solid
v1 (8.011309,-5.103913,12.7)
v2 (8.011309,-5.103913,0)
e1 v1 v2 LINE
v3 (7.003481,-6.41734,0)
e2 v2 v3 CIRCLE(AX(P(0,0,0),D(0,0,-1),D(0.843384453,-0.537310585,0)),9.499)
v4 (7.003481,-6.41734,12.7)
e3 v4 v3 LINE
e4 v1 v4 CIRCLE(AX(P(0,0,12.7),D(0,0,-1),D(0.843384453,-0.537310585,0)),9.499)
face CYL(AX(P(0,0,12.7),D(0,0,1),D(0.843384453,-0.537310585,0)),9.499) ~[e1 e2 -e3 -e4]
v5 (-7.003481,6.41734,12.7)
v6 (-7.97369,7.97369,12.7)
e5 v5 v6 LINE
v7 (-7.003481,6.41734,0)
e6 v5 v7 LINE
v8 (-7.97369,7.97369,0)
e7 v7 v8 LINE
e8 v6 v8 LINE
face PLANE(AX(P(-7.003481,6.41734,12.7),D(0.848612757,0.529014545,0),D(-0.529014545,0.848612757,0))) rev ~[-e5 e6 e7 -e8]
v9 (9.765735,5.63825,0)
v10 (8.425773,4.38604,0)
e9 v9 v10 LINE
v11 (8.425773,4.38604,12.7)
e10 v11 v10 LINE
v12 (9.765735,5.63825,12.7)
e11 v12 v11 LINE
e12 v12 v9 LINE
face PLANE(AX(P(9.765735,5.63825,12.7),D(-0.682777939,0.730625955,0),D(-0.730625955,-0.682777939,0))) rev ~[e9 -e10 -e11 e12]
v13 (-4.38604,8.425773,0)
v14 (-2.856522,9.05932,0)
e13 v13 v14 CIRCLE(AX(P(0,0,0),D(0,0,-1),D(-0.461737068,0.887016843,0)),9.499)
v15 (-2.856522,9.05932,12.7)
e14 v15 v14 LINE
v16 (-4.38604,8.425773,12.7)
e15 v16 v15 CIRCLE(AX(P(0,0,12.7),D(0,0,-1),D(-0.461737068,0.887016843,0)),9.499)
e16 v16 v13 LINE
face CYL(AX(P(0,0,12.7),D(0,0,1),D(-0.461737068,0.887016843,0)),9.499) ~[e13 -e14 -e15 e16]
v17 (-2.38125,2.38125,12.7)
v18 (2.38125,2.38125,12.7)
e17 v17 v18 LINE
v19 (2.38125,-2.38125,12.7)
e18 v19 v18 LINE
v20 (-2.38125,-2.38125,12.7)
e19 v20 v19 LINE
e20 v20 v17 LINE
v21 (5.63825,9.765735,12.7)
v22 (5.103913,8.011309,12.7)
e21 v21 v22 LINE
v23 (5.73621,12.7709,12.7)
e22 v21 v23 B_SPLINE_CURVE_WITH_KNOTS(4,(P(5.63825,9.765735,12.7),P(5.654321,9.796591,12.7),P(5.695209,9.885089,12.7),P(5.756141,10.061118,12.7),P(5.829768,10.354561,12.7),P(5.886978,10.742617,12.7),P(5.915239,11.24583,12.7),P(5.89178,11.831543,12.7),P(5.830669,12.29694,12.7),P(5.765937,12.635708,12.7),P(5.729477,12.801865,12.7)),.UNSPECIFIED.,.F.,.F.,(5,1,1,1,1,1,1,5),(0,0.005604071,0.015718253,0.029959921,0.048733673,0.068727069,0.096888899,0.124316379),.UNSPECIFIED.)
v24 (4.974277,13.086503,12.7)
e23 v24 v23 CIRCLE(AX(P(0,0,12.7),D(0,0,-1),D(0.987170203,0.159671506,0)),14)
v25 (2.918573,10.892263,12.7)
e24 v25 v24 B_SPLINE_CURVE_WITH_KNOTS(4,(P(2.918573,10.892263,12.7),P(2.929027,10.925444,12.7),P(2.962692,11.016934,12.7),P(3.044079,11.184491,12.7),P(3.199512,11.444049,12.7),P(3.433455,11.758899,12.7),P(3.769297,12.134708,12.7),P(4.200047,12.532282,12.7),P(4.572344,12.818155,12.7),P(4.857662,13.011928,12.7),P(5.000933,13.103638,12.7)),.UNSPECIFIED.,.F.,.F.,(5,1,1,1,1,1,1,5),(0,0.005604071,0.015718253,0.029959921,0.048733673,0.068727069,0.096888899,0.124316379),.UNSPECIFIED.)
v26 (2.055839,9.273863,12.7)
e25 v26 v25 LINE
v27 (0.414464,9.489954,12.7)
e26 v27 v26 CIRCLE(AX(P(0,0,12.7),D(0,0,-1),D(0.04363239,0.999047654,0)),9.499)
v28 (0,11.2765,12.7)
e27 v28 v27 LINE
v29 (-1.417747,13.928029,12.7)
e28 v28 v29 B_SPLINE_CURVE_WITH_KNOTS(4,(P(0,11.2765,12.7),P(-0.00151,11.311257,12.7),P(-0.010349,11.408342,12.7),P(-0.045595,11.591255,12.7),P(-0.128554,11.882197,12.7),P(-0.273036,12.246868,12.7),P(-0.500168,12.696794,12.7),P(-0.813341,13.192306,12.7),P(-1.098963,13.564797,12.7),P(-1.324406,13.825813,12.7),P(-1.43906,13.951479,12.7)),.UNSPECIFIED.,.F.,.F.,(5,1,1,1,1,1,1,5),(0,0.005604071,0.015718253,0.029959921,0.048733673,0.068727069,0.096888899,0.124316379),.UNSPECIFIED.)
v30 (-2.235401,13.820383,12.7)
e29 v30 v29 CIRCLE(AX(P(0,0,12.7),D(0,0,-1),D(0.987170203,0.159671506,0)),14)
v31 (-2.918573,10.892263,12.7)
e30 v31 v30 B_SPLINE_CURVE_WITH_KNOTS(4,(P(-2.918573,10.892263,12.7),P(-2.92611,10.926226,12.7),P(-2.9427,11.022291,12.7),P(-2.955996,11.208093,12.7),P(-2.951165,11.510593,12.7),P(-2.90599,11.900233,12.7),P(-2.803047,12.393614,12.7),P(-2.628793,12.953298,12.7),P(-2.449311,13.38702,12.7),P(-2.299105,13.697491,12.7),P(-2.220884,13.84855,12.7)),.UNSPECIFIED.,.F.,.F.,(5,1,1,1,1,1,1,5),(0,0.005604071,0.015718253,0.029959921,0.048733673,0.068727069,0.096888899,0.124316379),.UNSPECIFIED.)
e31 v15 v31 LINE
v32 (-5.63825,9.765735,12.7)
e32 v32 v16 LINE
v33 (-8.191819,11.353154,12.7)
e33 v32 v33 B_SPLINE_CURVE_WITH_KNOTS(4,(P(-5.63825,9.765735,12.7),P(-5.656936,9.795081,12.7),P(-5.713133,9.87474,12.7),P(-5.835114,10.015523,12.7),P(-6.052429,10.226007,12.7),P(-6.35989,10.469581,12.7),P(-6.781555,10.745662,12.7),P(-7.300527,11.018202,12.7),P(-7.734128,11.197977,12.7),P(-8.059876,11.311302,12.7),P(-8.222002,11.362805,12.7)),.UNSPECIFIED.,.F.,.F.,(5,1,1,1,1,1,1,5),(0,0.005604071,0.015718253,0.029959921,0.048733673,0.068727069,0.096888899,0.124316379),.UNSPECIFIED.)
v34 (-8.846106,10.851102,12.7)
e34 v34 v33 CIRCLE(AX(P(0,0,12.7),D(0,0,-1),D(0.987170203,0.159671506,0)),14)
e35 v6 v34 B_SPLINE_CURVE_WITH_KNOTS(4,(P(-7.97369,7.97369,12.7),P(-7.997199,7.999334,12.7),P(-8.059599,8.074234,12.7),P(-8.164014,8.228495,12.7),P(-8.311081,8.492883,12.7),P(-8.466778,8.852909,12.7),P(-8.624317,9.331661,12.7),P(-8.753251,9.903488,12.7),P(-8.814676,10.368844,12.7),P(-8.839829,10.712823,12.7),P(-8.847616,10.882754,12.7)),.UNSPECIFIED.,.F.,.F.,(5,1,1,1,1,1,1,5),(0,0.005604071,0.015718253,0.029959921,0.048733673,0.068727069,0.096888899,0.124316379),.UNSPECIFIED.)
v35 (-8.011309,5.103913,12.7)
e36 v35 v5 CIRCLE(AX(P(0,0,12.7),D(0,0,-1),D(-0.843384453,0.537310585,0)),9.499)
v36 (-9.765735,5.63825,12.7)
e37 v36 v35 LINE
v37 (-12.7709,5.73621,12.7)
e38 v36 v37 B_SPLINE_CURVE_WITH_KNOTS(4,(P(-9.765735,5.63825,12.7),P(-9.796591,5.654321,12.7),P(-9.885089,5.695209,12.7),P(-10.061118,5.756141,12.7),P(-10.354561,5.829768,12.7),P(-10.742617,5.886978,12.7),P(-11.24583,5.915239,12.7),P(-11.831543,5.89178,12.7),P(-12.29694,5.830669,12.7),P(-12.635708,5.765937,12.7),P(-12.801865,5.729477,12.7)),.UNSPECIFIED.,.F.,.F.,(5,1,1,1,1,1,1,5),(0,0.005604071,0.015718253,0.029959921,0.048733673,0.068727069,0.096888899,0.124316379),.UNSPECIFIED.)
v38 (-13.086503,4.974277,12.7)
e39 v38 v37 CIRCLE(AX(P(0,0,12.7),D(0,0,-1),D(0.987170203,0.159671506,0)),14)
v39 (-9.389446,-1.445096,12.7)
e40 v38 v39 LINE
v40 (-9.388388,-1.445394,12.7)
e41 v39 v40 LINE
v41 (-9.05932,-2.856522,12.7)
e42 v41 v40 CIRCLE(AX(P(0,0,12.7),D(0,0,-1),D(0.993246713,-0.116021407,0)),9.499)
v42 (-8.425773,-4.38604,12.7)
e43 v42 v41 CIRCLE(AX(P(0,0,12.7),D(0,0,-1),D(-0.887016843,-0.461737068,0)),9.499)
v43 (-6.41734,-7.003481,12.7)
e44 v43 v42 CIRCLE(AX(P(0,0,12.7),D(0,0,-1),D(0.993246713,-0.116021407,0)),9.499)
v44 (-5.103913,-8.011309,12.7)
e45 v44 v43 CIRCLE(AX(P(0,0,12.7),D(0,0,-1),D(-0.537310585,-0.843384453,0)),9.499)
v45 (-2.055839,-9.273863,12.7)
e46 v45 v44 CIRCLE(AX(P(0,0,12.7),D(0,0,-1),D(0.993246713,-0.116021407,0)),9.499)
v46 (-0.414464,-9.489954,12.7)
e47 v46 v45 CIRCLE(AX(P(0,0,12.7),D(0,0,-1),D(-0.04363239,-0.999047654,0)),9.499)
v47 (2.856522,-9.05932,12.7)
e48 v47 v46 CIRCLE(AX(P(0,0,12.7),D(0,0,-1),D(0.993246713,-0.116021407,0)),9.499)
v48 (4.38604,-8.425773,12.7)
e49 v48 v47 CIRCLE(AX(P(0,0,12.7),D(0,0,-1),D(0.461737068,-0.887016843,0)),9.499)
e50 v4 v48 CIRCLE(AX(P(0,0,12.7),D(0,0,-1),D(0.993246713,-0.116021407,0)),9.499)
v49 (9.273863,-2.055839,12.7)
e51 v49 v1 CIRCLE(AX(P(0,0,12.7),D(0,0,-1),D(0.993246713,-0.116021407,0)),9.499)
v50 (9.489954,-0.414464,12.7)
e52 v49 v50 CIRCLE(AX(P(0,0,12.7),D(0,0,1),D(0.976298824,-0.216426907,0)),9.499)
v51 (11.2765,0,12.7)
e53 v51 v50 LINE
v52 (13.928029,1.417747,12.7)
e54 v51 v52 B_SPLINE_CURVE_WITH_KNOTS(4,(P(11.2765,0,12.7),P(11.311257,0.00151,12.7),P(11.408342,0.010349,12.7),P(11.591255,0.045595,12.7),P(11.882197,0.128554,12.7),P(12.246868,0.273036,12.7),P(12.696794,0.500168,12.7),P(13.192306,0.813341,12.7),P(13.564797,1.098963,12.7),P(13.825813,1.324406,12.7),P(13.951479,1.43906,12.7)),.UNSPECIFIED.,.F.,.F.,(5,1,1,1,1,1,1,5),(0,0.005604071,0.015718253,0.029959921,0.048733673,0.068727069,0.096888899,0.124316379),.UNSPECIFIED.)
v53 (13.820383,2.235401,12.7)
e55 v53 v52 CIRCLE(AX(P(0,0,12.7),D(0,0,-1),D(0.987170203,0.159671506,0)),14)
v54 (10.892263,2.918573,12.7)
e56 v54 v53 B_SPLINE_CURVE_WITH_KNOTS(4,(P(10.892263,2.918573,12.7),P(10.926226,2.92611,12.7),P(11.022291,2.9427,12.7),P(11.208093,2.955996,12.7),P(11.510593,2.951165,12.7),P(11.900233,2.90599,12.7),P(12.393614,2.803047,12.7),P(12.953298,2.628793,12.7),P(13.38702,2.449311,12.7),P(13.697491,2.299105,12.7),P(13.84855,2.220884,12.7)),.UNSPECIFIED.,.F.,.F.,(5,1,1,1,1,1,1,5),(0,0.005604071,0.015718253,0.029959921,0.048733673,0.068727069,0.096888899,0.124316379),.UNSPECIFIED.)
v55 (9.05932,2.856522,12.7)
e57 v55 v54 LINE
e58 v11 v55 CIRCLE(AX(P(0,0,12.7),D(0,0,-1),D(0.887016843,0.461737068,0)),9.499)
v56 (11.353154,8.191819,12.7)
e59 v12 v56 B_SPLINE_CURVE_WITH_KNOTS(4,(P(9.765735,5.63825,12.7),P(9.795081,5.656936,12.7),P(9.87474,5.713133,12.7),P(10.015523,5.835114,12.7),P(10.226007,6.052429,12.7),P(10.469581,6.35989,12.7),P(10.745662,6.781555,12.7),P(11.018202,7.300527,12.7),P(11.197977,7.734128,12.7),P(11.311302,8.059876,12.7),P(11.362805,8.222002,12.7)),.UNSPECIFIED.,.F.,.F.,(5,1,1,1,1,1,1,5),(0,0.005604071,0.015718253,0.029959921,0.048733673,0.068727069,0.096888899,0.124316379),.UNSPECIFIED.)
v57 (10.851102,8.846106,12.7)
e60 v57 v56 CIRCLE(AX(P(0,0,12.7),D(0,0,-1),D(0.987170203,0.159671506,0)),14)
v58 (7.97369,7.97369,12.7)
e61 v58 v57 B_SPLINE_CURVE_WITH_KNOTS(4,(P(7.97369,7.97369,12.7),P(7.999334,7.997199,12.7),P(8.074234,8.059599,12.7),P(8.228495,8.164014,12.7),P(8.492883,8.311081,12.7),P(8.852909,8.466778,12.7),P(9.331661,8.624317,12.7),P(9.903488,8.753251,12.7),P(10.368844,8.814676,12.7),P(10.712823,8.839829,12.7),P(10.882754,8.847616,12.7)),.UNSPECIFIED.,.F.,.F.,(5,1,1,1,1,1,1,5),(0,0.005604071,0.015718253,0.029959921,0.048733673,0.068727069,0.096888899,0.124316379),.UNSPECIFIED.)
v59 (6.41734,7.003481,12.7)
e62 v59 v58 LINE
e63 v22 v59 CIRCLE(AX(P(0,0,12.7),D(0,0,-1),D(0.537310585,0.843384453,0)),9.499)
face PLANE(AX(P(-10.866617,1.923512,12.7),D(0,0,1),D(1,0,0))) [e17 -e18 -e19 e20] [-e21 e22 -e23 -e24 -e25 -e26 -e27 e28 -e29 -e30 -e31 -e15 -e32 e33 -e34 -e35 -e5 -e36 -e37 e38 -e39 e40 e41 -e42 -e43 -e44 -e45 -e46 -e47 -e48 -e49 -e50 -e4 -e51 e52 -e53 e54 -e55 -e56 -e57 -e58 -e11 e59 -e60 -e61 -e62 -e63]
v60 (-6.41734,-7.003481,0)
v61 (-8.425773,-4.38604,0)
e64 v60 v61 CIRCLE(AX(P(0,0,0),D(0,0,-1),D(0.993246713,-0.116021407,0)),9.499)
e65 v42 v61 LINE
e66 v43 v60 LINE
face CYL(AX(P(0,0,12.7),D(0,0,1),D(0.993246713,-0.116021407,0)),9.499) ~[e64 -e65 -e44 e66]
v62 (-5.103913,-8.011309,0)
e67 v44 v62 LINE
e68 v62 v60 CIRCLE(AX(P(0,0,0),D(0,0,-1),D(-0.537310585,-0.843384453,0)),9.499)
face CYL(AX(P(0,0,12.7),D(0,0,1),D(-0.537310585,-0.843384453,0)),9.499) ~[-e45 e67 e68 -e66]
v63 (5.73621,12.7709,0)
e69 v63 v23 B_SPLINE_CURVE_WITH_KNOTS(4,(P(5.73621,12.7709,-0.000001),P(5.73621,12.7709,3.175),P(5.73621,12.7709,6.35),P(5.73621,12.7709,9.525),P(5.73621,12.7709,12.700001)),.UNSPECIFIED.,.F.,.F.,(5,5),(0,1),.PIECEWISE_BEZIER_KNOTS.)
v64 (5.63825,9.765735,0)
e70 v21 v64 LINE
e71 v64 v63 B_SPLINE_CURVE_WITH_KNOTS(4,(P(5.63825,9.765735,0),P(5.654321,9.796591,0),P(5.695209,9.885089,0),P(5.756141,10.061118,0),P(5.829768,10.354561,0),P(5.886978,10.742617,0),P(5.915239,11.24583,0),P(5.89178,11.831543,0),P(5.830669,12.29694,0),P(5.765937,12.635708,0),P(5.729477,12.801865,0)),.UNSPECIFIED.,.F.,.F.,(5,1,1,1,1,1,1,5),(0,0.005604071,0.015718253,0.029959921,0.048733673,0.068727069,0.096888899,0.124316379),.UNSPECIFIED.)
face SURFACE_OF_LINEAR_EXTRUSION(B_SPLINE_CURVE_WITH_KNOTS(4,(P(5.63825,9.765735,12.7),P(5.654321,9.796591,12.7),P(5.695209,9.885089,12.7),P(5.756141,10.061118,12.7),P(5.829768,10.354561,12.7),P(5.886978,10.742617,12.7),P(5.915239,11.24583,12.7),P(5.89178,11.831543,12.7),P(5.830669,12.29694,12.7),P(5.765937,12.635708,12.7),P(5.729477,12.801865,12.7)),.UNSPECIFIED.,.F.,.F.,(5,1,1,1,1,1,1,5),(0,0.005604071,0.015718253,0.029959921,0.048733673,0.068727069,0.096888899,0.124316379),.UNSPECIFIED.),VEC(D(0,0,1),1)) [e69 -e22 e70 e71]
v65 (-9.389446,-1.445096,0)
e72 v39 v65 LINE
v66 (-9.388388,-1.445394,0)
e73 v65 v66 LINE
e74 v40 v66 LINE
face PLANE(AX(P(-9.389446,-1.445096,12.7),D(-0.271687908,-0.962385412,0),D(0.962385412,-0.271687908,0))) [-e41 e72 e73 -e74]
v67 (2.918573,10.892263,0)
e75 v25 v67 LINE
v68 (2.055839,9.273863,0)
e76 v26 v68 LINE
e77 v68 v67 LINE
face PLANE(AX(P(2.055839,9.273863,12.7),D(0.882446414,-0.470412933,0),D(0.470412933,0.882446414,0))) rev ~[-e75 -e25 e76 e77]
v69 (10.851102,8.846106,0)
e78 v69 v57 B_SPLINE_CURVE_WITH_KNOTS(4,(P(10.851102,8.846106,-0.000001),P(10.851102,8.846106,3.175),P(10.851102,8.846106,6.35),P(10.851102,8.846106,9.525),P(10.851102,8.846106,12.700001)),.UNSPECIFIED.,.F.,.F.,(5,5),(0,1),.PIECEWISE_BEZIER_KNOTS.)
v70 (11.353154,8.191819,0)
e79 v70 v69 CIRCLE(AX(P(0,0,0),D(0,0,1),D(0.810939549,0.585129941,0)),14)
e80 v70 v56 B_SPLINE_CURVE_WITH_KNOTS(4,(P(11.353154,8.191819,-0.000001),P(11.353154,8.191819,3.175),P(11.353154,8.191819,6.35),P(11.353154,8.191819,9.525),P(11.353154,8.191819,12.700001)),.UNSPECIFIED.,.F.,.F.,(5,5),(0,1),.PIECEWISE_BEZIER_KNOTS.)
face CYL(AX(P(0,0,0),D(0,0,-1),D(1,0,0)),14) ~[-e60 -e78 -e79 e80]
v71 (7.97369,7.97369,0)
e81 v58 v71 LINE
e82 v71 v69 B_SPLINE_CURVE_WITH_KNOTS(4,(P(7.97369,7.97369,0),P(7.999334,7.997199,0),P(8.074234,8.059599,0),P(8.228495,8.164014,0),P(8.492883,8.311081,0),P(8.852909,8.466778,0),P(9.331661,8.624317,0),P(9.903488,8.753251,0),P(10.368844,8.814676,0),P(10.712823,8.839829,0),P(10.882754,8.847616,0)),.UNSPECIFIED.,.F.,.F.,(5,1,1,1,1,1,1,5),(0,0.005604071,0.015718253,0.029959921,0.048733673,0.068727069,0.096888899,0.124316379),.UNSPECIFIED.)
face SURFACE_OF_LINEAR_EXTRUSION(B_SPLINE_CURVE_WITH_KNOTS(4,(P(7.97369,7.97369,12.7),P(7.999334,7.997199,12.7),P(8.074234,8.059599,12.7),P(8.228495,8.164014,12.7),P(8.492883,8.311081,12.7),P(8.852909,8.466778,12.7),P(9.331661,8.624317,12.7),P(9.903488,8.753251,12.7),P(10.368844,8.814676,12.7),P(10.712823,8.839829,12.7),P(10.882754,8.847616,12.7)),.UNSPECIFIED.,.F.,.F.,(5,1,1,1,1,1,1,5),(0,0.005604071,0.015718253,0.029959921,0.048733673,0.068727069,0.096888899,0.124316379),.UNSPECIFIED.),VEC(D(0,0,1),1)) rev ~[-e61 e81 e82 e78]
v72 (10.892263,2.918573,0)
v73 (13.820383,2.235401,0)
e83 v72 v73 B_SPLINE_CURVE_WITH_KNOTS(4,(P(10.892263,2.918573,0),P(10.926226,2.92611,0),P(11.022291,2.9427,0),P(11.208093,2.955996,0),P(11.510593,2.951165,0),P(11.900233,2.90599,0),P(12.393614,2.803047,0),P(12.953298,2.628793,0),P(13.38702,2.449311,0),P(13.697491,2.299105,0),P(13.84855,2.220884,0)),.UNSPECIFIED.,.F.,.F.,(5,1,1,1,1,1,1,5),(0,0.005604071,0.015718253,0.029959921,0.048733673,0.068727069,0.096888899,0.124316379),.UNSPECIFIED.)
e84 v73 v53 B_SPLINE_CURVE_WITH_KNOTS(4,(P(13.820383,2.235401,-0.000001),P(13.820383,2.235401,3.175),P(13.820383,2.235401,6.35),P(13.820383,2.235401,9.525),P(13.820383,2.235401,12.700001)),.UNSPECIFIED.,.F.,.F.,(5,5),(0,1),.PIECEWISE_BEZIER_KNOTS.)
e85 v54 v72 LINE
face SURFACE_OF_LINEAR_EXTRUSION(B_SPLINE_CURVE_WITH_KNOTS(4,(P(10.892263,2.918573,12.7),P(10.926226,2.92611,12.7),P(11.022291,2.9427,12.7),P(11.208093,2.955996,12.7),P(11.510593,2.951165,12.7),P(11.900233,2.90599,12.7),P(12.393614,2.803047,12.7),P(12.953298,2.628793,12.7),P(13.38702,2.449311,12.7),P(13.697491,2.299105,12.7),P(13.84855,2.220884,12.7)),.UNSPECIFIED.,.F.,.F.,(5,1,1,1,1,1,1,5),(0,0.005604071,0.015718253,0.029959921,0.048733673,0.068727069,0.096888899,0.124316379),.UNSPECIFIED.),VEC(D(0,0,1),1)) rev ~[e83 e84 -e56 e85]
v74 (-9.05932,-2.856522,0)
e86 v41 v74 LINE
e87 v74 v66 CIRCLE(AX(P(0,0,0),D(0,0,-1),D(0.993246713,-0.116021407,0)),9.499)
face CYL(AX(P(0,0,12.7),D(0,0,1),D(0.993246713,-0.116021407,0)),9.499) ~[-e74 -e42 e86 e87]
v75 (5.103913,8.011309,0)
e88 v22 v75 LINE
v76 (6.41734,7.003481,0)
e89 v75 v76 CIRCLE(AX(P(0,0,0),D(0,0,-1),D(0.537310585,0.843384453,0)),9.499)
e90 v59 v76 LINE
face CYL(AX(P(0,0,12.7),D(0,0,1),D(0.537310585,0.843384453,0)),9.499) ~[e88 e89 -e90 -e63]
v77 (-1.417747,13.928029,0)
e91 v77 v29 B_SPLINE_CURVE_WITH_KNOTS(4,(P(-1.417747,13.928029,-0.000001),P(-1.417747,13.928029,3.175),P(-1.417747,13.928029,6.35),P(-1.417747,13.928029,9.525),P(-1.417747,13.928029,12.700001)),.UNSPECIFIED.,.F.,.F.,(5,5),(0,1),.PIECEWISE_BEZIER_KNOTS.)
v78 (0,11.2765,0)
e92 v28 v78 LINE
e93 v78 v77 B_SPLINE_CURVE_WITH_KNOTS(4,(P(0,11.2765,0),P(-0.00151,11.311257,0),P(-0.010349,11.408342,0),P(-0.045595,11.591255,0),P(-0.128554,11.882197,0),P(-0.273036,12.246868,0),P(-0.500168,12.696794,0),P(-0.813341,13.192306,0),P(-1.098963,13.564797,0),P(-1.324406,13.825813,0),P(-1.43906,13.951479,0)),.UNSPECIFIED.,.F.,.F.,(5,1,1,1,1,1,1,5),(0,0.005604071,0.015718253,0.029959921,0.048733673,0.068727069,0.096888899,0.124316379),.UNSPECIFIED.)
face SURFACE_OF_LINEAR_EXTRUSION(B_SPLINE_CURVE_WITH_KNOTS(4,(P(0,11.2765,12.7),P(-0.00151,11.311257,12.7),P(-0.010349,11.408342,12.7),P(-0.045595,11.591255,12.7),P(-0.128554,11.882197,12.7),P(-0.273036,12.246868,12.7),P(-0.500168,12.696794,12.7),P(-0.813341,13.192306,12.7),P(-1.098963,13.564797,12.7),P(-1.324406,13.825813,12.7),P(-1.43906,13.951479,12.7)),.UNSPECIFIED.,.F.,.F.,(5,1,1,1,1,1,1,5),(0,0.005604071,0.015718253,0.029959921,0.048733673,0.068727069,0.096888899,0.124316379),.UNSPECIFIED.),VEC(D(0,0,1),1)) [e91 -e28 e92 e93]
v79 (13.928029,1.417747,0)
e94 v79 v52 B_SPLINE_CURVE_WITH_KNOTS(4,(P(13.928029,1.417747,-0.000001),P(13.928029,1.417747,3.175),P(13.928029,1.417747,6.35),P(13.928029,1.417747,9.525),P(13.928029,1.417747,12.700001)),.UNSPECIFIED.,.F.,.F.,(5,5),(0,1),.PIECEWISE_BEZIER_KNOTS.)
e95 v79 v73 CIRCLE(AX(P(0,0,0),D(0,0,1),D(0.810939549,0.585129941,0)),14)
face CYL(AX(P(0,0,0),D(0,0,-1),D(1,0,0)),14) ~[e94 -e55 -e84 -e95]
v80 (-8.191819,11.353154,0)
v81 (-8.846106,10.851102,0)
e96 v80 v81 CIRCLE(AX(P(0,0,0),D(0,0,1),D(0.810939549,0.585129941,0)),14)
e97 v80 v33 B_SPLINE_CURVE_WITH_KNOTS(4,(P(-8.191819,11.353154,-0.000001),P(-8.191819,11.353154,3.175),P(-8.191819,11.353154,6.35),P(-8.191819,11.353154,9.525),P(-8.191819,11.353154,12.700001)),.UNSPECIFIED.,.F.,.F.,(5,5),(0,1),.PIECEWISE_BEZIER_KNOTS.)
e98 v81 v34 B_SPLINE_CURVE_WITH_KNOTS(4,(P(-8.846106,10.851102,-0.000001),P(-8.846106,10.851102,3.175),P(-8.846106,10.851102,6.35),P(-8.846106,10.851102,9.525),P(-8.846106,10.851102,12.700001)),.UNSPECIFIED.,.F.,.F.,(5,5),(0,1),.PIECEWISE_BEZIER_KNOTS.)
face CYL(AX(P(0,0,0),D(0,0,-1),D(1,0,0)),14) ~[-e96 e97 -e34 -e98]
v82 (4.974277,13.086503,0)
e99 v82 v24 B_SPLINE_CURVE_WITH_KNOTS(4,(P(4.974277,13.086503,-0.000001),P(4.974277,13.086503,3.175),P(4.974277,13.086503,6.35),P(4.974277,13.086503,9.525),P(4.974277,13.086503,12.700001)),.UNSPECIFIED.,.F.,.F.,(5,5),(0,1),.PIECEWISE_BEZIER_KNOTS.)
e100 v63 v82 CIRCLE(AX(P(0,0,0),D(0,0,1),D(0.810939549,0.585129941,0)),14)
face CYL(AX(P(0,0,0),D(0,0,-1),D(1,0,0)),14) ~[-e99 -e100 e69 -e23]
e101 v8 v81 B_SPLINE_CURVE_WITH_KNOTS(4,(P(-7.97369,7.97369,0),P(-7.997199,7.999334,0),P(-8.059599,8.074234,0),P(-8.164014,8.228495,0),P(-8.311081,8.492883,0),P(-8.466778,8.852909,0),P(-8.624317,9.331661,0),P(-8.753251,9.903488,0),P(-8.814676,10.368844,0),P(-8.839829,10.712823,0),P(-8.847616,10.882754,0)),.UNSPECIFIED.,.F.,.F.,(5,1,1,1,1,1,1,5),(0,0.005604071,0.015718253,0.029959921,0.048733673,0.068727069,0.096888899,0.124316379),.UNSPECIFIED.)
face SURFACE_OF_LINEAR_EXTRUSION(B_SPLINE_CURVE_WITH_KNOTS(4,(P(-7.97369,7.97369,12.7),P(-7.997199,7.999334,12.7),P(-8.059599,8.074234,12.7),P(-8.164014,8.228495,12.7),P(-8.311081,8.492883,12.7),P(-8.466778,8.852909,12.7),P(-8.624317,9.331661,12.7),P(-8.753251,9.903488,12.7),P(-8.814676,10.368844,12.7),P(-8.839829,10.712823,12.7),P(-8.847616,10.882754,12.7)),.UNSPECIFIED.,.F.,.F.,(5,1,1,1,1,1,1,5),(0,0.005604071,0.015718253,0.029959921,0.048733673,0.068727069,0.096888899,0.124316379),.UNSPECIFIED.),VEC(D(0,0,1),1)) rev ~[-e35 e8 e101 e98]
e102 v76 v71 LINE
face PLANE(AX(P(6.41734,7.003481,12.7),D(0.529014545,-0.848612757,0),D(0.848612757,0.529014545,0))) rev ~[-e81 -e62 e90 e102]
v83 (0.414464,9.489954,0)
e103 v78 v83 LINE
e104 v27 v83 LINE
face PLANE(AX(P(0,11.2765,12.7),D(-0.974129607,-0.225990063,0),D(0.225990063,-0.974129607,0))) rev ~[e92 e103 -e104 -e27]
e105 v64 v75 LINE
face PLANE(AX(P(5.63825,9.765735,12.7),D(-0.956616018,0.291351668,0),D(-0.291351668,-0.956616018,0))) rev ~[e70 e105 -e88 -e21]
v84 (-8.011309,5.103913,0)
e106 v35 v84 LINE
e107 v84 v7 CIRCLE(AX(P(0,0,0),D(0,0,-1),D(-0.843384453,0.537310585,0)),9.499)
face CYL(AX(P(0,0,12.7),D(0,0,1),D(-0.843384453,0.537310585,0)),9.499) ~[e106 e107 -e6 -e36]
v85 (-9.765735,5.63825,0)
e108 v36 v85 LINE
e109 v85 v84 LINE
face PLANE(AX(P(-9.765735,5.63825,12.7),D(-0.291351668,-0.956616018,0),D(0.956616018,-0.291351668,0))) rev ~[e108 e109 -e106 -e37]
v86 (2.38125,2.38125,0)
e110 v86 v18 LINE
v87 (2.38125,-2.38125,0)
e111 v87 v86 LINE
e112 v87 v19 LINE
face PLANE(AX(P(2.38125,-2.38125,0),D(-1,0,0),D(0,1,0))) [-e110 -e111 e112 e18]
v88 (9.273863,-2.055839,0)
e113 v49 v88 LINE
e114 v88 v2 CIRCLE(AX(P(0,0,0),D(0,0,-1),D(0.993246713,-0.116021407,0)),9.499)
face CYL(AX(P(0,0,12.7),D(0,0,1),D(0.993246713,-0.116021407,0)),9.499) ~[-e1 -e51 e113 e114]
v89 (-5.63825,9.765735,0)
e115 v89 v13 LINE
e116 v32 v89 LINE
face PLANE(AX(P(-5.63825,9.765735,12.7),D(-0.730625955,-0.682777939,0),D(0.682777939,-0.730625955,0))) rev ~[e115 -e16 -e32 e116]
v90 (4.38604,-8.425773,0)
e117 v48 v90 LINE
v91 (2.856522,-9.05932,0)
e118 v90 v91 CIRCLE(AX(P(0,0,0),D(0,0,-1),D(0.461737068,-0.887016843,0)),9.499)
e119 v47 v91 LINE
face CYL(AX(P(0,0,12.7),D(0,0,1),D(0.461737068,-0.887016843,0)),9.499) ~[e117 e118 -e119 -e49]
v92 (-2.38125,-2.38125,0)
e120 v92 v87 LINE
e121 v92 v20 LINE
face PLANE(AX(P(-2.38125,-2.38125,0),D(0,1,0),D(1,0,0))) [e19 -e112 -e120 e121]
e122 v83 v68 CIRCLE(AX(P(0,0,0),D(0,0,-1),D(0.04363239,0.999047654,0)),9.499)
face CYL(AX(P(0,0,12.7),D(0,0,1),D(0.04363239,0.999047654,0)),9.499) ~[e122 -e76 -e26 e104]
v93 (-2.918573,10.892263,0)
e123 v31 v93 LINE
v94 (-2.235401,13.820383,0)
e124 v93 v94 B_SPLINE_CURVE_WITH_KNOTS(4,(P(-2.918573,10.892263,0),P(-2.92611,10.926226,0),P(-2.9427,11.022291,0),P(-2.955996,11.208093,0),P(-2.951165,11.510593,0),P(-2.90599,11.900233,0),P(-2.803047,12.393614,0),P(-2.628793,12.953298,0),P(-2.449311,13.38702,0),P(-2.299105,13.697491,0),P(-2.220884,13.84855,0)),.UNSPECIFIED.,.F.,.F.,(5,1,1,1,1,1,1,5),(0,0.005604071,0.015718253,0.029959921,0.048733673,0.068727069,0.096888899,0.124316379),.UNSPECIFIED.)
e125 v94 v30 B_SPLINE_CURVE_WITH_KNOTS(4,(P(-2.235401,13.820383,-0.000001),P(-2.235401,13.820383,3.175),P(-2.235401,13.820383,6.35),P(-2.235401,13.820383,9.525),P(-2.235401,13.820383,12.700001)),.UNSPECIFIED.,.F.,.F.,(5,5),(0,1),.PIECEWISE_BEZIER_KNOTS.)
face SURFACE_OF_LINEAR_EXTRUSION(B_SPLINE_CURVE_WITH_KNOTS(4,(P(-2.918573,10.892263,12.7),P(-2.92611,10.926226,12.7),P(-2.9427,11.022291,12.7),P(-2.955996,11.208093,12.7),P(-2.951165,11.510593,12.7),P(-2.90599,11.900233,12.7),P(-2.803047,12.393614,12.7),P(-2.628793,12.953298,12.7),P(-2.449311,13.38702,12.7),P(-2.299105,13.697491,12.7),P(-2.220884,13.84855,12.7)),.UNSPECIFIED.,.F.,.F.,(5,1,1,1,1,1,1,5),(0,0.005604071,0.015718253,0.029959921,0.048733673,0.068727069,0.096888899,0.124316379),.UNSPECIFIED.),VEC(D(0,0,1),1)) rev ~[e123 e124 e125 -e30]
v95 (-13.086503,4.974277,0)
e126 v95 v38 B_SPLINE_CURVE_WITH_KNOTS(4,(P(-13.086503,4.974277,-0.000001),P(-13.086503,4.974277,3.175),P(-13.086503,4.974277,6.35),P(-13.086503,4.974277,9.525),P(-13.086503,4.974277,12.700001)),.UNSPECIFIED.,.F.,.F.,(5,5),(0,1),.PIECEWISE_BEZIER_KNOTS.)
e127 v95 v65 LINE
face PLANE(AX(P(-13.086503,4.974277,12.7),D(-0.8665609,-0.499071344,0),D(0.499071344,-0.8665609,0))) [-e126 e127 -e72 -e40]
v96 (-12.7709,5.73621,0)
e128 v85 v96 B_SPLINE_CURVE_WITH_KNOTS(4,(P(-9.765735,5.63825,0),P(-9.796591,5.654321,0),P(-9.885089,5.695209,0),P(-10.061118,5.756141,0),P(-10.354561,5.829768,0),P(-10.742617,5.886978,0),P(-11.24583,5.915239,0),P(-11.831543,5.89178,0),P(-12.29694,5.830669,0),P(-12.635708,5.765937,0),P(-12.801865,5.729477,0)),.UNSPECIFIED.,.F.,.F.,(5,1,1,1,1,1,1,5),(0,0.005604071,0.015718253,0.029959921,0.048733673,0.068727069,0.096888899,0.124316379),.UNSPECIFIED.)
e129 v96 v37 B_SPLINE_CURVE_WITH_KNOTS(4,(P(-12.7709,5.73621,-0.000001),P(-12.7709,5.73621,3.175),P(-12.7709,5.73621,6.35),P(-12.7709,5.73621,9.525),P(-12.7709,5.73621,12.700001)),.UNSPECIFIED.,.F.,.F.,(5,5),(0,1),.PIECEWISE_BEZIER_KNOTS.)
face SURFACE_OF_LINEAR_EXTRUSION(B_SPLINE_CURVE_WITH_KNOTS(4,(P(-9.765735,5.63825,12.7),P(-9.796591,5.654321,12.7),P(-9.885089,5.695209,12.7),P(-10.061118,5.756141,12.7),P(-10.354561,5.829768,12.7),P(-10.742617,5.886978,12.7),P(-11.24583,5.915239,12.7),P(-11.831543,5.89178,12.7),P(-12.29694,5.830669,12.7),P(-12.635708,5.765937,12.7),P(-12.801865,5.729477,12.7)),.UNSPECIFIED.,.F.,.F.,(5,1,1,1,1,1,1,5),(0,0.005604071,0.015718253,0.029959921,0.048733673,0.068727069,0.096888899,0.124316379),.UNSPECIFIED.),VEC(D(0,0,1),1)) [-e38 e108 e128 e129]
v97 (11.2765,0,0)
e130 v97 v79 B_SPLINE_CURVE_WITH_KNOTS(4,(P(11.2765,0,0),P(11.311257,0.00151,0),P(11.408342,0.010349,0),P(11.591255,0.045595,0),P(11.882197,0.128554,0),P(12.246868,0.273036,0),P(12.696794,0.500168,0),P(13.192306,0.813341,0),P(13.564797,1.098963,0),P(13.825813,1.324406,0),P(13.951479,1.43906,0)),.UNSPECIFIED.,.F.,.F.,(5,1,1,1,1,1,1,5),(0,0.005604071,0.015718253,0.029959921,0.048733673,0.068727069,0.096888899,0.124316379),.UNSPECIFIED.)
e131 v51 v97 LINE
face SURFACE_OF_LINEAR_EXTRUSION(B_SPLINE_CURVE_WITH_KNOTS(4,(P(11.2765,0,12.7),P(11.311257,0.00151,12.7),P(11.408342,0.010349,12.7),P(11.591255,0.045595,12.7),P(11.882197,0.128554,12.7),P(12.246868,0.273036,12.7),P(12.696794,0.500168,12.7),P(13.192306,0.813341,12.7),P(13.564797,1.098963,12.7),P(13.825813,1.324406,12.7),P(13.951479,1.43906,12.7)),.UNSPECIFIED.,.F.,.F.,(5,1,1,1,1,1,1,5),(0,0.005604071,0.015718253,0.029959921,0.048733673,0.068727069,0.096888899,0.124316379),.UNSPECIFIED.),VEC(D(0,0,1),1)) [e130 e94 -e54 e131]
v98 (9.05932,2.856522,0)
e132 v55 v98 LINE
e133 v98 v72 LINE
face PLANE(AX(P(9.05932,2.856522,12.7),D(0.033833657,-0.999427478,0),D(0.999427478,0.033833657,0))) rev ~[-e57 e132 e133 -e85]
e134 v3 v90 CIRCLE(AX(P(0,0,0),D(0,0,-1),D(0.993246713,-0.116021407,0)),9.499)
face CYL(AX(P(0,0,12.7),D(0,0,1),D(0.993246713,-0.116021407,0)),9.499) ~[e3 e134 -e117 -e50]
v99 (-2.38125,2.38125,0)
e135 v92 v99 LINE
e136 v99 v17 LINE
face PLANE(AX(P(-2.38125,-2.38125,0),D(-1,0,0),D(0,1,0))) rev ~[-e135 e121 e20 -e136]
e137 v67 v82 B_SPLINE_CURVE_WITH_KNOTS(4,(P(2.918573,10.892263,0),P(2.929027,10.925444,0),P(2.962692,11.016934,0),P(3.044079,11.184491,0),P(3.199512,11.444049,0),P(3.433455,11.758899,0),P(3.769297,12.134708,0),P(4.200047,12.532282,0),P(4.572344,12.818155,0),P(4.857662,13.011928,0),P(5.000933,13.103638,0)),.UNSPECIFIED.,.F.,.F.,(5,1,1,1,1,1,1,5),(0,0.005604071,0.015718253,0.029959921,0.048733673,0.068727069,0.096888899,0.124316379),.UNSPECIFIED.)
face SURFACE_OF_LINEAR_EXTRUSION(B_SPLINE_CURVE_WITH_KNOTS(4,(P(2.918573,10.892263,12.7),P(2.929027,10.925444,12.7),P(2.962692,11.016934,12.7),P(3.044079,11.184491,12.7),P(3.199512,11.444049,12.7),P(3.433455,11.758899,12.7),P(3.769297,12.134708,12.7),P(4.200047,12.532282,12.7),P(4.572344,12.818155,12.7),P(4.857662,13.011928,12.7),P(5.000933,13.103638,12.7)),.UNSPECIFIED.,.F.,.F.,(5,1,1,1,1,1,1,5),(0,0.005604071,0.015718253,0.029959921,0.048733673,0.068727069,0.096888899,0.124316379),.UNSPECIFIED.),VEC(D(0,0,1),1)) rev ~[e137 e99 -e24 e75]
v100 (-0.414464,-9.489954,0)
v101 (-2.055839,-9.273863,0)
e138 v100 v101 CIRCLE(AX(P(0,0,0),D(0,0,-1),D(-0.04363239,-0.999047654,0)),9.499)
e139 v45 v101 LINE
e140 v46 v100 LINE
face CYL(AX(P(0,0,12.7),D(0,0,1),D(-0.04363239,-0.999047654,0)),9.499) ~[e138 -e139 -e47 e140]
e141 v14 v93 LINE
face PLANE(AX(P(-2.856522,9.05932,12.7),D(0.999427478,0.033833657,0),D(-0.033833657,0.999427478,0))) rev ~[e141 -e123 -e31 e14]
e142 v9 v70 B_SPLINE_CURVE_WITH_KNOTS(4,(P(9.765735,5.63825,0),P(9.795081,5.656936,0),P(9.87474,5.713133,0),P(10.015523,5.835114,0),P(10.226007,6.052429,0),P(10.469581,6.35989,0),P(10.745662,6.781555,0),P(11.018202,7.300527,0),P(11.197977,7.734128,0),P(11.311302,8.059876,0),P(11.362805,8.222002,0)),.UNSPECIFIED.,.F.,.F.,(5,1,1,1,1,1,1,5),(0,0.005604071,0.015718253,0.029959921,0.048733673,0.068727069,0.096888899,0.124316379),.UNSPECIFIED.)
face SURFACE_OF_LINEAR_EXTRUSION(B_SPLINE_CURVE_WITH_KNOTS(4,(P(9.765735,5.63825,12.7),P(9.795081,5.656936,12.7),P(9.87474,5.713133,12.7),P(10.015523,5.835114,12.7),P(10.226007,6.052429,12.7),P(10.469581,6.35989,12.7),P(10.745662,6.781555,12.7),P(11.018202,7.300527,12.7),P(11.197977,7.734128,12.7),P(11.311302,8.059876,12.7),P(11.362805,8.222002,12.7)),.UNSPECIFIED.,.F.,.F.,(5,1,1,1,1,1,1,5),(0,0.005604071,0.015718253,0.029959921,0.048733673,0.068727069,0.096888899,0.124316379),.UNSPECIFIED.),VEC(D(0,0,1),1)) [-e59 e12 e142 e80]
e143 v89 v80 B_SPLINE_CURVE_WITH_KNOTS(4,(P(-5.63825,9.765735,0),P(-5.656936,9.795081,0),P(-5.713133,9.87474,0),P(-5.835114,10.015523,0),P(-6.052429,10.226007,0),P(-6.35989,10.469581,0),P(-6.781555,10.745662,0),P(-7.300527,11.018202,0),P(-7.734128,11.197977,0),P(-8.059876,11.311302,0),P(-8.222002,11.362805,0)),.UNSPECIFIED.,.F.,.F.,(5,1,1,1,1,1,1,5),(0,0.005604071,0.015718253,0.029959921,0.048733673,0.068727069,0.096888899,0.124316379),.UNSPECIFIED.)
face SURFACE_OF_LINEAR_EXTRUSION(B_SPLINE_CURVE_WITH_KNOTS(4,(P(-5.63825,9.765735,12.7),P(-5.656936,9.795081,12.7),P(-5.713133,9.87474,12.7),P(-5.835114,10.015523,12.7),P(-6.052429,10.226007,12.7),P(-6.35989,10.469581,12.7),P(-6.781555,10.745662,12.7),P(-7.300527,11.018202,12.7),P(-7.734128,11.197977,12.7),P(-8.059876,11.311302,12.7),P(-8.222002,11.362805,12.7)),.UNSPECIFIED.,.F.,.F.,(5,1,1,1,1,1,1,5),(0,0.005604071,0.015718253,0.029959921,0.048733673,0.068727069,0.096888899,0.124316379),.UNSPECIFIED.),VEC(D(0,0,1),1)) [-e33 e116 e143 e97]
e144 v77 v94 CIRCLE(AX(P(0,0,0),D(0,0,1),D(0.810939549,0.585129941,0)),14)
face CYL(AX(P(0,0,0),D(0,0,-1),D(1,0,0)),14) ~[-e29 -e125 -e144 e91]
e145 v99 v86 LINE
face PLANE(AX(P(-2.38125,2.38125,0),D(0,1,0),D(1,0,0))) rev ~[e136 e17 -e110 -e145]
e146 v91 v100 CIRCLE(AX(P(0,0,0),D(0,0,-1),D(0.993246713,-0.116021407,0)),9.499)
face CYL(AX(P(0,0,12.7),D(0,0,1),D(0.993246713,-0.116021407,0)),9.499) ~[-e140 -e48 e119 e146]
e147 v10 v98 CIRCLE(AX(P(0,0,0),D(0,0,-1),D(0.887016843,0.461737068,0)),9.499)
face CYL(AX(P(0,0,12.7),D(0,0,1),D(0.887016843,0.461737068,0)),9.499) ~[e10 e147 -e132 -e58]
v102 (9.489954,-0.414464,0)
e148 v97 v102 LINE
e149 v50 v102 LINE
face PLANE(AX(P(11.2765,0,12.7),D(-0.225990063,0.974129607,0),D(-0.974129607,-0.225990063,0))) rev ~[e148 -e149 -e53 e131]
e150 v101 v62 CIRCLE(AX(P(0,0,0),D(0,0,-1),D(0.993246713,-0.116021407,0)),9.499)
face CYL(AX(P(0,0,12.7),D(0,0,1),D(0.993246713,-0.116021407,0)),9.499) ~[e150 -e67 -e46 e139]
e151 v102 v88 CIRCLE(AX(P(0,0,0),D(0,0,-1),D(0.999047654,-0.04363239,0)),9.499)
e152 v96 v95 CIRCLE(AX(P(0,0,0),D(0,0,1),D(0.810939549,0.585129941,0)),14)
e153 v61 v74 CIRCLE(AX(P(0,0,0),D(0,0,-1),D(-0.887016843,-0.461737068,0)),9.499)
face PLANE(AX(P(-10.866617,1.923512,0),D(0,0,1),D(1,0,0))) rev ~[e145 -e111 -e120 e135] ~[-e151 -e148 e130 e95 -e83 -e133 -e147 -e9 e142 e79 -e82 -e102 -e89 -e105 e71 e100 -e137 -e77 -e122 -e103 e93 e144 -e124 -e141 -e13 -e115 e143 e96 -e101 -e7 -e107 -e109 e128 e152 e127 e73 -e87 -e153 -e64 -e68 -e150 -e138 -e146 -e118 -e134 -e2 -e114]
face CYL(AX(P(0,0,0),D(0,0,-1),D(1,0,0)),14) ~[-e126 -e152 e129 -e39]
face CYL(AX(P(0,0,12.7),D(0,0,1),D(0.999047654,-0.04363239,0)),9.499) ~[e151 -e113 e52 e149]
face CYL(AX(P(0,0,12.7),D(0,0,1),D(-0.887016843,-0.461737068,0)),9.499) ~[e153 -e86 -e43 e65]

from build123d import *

# Parameters (mm, degrees)
SKETCH1_R           = 14
SKETCH1_W           = 4.7625
SKETCH1_H           = 4.7625
BOSS_EXTRUDE1_DEPTH = 12.7
CUT_EXTRUDE2_DEPTH  = 12.7
CIRPATTERN1_COUNT   = 12
CUT_EXTRUDE3_DEPTH  = 12.7
BOSS_EXTRUDE2_DEPTH = 12.7


with BuildPart() as part:
    # Sketch1 → Boss-Extrude1 (new body)
    with BuildSketch(Plane.XY):
        Circle(SKETCH1_R)
        Rectangle(SKETCH1_W, SKETCH1_H, mode=Mode.SUBTRACT)
    extrude(amount=BOSS_EXTRUDE1_DEPTH)

    # Sketch2 → Cut-Extrude2 (cut)
    with BuildSketch(Plane.XY.offset(12.7)):
        with BuildLine():
            Line((9.765735466, 5.63825), (8.425772987, 4.386040421))
            ThreePointArc((8.425772987, 4.386040421), (8.775931679, 3.635109924), (9.05932014, 2.856522291))
            Line((9.05932014, 2.856522291), (10.89226258, 2.918572962))
            add(Edge.make_bspline(
                [(10.89226258, 2.918572962), (10.926225774, 2.926110483), (11.022290818, 2.942700204), (11.208093043, 2.95599604), (11.510593122, 2.951165366), (11.900233077, 2.905990048), (12.393614042, 2.803046766), (12.953297572, 2.62879349), (13.387020142, 2.449311198), (13.697491187, 2.299105356), (13.848549614, 2.220883572)],
                knots=[0, 0, 0, 0, 0, 0.005604071, 0.015718253, 0.029959921, 0.048733673, 0.068727069, 0.096888899, 0.124316379, 0.124316379, 0.124316379, 0.124316379, 0.124316379], degree=4))
            ThreePointArc((13.848549614, 2.220883572), (12.957872383, 5.367326481), (11.362805176, 8.222001507))
            add(Edge.make_bspline(
                [(9.765735466, 5.63825), (9.795080903, 5.656935773), (9.874739851, 5.713133312), (10.01552344, 5.835113749), (10.226007495, 6.052429409), (10.469580775, 6.359890238), (10.745661909, 6.781555156), (11.018202255, 7.300526849), (11.197977279, 7.734128165), (11.311301892, 8.059875916), (11.362805176, 8.222001507)],
                knots=[0, 0, 0, 0, 0, 0.005604071, 0.015718253, 0.029959921, 0.048733673, 0.068727069, 0.096888899, 0.124316379, 0.124316379, 0.124316379, 0.124316379, 0.124316379], degree=4))
        make_face()
    cut_extrude2 = extrude(amount=-CUT_EXTRUDE2_DEPTH, mode=Mode.SUBTRACT)

    # CirPattern1: Cut-Extrude2 ×12 about axis
    cirpattern1_axis = Axis((0, 0, 12.7), (0, 0, -1))
    for i in range(1, CIRPATTERN1_COUNT):
        add(cut_extrude2.rotate(cirpattern1_axis, i * 360 / CIRPATTERN1_COUNT), mode=Mode.SUBTRACT)

    # Sketch4 → Cut-Extrude3 (cut)
    with BuildSketch(Plane.XY.offset(12.7)):
        with BuildLine():
            Line((-9.431447157, 1.130842839), (-13.900437961, 1.666680677))
            ThreePointArc((-13.900437961, 1.666680677), (-1.645492098, -13.902962122), (13.905453984, -1.624299696))
            Line((13.905453984, -1.624299696), (9.434850528, -1.102087344))
            ThreePointArc((9.434850528, -1.102087344), (-1.116466388, -9.4331598), (-9.431447157, 1.130842839))
        make_face()
    extrude(amount=-CUT_EXTRUDE3_DEPTH, mode=Mode.SUBTRACT)

    # Sketch5 → Boss-Extrude2 (add)
    with BuildSketch(Plane.XY.offset(12.7)):
        with BuildLine():
            Line((-13.086503174, 4.974277301), (-9.389446127, -1.445095645))
            Line((-9.389446127, -1.445095645), (-9.388388384, -1.445394253))
            ThreePointArc((-9.388388384, -1.445394253), (-9.484867836, -0.517960557), (-9.489953664, 0.414464066))
            ThreePointArc((-9.489953664, 0.414464066), (-9.417734738, 1.2398683), (-9.273862528, 2.055839199))
            Line((-9.273862528, 2.055839199), (-10.89226258, 2.918572962))
            add(Edge.make_bspline(
                [(-10.89226258, 2.918572962), (-10.925444329, 2.929026875), (-11.016933958, 2.962692277), (-11.184491323, 3.044078857), (-11.444048739, 3.199512383), (-11.75889918, 3.433455334), (-12.134707988, 3.769297313), (-12.526899585, 4.194215821), (-12.808483679, 4.559768992), (-12.998544728, 4.838012668), (-13.086503174, 4.974277301)],
                knots=[0, 0, 0, 0, 0, 0.005604071, 0.015718253, 0.029959921, 0.048733673, 0.068727069, 0.096888899, 0.123039083, 0.123039083, 0.123039083, 0.123039083, 0.123039083], degree=4))
        make_face()
    extrude(amount=-BOSS_EXTRUDE2_DEPTH)


solid = part.part
